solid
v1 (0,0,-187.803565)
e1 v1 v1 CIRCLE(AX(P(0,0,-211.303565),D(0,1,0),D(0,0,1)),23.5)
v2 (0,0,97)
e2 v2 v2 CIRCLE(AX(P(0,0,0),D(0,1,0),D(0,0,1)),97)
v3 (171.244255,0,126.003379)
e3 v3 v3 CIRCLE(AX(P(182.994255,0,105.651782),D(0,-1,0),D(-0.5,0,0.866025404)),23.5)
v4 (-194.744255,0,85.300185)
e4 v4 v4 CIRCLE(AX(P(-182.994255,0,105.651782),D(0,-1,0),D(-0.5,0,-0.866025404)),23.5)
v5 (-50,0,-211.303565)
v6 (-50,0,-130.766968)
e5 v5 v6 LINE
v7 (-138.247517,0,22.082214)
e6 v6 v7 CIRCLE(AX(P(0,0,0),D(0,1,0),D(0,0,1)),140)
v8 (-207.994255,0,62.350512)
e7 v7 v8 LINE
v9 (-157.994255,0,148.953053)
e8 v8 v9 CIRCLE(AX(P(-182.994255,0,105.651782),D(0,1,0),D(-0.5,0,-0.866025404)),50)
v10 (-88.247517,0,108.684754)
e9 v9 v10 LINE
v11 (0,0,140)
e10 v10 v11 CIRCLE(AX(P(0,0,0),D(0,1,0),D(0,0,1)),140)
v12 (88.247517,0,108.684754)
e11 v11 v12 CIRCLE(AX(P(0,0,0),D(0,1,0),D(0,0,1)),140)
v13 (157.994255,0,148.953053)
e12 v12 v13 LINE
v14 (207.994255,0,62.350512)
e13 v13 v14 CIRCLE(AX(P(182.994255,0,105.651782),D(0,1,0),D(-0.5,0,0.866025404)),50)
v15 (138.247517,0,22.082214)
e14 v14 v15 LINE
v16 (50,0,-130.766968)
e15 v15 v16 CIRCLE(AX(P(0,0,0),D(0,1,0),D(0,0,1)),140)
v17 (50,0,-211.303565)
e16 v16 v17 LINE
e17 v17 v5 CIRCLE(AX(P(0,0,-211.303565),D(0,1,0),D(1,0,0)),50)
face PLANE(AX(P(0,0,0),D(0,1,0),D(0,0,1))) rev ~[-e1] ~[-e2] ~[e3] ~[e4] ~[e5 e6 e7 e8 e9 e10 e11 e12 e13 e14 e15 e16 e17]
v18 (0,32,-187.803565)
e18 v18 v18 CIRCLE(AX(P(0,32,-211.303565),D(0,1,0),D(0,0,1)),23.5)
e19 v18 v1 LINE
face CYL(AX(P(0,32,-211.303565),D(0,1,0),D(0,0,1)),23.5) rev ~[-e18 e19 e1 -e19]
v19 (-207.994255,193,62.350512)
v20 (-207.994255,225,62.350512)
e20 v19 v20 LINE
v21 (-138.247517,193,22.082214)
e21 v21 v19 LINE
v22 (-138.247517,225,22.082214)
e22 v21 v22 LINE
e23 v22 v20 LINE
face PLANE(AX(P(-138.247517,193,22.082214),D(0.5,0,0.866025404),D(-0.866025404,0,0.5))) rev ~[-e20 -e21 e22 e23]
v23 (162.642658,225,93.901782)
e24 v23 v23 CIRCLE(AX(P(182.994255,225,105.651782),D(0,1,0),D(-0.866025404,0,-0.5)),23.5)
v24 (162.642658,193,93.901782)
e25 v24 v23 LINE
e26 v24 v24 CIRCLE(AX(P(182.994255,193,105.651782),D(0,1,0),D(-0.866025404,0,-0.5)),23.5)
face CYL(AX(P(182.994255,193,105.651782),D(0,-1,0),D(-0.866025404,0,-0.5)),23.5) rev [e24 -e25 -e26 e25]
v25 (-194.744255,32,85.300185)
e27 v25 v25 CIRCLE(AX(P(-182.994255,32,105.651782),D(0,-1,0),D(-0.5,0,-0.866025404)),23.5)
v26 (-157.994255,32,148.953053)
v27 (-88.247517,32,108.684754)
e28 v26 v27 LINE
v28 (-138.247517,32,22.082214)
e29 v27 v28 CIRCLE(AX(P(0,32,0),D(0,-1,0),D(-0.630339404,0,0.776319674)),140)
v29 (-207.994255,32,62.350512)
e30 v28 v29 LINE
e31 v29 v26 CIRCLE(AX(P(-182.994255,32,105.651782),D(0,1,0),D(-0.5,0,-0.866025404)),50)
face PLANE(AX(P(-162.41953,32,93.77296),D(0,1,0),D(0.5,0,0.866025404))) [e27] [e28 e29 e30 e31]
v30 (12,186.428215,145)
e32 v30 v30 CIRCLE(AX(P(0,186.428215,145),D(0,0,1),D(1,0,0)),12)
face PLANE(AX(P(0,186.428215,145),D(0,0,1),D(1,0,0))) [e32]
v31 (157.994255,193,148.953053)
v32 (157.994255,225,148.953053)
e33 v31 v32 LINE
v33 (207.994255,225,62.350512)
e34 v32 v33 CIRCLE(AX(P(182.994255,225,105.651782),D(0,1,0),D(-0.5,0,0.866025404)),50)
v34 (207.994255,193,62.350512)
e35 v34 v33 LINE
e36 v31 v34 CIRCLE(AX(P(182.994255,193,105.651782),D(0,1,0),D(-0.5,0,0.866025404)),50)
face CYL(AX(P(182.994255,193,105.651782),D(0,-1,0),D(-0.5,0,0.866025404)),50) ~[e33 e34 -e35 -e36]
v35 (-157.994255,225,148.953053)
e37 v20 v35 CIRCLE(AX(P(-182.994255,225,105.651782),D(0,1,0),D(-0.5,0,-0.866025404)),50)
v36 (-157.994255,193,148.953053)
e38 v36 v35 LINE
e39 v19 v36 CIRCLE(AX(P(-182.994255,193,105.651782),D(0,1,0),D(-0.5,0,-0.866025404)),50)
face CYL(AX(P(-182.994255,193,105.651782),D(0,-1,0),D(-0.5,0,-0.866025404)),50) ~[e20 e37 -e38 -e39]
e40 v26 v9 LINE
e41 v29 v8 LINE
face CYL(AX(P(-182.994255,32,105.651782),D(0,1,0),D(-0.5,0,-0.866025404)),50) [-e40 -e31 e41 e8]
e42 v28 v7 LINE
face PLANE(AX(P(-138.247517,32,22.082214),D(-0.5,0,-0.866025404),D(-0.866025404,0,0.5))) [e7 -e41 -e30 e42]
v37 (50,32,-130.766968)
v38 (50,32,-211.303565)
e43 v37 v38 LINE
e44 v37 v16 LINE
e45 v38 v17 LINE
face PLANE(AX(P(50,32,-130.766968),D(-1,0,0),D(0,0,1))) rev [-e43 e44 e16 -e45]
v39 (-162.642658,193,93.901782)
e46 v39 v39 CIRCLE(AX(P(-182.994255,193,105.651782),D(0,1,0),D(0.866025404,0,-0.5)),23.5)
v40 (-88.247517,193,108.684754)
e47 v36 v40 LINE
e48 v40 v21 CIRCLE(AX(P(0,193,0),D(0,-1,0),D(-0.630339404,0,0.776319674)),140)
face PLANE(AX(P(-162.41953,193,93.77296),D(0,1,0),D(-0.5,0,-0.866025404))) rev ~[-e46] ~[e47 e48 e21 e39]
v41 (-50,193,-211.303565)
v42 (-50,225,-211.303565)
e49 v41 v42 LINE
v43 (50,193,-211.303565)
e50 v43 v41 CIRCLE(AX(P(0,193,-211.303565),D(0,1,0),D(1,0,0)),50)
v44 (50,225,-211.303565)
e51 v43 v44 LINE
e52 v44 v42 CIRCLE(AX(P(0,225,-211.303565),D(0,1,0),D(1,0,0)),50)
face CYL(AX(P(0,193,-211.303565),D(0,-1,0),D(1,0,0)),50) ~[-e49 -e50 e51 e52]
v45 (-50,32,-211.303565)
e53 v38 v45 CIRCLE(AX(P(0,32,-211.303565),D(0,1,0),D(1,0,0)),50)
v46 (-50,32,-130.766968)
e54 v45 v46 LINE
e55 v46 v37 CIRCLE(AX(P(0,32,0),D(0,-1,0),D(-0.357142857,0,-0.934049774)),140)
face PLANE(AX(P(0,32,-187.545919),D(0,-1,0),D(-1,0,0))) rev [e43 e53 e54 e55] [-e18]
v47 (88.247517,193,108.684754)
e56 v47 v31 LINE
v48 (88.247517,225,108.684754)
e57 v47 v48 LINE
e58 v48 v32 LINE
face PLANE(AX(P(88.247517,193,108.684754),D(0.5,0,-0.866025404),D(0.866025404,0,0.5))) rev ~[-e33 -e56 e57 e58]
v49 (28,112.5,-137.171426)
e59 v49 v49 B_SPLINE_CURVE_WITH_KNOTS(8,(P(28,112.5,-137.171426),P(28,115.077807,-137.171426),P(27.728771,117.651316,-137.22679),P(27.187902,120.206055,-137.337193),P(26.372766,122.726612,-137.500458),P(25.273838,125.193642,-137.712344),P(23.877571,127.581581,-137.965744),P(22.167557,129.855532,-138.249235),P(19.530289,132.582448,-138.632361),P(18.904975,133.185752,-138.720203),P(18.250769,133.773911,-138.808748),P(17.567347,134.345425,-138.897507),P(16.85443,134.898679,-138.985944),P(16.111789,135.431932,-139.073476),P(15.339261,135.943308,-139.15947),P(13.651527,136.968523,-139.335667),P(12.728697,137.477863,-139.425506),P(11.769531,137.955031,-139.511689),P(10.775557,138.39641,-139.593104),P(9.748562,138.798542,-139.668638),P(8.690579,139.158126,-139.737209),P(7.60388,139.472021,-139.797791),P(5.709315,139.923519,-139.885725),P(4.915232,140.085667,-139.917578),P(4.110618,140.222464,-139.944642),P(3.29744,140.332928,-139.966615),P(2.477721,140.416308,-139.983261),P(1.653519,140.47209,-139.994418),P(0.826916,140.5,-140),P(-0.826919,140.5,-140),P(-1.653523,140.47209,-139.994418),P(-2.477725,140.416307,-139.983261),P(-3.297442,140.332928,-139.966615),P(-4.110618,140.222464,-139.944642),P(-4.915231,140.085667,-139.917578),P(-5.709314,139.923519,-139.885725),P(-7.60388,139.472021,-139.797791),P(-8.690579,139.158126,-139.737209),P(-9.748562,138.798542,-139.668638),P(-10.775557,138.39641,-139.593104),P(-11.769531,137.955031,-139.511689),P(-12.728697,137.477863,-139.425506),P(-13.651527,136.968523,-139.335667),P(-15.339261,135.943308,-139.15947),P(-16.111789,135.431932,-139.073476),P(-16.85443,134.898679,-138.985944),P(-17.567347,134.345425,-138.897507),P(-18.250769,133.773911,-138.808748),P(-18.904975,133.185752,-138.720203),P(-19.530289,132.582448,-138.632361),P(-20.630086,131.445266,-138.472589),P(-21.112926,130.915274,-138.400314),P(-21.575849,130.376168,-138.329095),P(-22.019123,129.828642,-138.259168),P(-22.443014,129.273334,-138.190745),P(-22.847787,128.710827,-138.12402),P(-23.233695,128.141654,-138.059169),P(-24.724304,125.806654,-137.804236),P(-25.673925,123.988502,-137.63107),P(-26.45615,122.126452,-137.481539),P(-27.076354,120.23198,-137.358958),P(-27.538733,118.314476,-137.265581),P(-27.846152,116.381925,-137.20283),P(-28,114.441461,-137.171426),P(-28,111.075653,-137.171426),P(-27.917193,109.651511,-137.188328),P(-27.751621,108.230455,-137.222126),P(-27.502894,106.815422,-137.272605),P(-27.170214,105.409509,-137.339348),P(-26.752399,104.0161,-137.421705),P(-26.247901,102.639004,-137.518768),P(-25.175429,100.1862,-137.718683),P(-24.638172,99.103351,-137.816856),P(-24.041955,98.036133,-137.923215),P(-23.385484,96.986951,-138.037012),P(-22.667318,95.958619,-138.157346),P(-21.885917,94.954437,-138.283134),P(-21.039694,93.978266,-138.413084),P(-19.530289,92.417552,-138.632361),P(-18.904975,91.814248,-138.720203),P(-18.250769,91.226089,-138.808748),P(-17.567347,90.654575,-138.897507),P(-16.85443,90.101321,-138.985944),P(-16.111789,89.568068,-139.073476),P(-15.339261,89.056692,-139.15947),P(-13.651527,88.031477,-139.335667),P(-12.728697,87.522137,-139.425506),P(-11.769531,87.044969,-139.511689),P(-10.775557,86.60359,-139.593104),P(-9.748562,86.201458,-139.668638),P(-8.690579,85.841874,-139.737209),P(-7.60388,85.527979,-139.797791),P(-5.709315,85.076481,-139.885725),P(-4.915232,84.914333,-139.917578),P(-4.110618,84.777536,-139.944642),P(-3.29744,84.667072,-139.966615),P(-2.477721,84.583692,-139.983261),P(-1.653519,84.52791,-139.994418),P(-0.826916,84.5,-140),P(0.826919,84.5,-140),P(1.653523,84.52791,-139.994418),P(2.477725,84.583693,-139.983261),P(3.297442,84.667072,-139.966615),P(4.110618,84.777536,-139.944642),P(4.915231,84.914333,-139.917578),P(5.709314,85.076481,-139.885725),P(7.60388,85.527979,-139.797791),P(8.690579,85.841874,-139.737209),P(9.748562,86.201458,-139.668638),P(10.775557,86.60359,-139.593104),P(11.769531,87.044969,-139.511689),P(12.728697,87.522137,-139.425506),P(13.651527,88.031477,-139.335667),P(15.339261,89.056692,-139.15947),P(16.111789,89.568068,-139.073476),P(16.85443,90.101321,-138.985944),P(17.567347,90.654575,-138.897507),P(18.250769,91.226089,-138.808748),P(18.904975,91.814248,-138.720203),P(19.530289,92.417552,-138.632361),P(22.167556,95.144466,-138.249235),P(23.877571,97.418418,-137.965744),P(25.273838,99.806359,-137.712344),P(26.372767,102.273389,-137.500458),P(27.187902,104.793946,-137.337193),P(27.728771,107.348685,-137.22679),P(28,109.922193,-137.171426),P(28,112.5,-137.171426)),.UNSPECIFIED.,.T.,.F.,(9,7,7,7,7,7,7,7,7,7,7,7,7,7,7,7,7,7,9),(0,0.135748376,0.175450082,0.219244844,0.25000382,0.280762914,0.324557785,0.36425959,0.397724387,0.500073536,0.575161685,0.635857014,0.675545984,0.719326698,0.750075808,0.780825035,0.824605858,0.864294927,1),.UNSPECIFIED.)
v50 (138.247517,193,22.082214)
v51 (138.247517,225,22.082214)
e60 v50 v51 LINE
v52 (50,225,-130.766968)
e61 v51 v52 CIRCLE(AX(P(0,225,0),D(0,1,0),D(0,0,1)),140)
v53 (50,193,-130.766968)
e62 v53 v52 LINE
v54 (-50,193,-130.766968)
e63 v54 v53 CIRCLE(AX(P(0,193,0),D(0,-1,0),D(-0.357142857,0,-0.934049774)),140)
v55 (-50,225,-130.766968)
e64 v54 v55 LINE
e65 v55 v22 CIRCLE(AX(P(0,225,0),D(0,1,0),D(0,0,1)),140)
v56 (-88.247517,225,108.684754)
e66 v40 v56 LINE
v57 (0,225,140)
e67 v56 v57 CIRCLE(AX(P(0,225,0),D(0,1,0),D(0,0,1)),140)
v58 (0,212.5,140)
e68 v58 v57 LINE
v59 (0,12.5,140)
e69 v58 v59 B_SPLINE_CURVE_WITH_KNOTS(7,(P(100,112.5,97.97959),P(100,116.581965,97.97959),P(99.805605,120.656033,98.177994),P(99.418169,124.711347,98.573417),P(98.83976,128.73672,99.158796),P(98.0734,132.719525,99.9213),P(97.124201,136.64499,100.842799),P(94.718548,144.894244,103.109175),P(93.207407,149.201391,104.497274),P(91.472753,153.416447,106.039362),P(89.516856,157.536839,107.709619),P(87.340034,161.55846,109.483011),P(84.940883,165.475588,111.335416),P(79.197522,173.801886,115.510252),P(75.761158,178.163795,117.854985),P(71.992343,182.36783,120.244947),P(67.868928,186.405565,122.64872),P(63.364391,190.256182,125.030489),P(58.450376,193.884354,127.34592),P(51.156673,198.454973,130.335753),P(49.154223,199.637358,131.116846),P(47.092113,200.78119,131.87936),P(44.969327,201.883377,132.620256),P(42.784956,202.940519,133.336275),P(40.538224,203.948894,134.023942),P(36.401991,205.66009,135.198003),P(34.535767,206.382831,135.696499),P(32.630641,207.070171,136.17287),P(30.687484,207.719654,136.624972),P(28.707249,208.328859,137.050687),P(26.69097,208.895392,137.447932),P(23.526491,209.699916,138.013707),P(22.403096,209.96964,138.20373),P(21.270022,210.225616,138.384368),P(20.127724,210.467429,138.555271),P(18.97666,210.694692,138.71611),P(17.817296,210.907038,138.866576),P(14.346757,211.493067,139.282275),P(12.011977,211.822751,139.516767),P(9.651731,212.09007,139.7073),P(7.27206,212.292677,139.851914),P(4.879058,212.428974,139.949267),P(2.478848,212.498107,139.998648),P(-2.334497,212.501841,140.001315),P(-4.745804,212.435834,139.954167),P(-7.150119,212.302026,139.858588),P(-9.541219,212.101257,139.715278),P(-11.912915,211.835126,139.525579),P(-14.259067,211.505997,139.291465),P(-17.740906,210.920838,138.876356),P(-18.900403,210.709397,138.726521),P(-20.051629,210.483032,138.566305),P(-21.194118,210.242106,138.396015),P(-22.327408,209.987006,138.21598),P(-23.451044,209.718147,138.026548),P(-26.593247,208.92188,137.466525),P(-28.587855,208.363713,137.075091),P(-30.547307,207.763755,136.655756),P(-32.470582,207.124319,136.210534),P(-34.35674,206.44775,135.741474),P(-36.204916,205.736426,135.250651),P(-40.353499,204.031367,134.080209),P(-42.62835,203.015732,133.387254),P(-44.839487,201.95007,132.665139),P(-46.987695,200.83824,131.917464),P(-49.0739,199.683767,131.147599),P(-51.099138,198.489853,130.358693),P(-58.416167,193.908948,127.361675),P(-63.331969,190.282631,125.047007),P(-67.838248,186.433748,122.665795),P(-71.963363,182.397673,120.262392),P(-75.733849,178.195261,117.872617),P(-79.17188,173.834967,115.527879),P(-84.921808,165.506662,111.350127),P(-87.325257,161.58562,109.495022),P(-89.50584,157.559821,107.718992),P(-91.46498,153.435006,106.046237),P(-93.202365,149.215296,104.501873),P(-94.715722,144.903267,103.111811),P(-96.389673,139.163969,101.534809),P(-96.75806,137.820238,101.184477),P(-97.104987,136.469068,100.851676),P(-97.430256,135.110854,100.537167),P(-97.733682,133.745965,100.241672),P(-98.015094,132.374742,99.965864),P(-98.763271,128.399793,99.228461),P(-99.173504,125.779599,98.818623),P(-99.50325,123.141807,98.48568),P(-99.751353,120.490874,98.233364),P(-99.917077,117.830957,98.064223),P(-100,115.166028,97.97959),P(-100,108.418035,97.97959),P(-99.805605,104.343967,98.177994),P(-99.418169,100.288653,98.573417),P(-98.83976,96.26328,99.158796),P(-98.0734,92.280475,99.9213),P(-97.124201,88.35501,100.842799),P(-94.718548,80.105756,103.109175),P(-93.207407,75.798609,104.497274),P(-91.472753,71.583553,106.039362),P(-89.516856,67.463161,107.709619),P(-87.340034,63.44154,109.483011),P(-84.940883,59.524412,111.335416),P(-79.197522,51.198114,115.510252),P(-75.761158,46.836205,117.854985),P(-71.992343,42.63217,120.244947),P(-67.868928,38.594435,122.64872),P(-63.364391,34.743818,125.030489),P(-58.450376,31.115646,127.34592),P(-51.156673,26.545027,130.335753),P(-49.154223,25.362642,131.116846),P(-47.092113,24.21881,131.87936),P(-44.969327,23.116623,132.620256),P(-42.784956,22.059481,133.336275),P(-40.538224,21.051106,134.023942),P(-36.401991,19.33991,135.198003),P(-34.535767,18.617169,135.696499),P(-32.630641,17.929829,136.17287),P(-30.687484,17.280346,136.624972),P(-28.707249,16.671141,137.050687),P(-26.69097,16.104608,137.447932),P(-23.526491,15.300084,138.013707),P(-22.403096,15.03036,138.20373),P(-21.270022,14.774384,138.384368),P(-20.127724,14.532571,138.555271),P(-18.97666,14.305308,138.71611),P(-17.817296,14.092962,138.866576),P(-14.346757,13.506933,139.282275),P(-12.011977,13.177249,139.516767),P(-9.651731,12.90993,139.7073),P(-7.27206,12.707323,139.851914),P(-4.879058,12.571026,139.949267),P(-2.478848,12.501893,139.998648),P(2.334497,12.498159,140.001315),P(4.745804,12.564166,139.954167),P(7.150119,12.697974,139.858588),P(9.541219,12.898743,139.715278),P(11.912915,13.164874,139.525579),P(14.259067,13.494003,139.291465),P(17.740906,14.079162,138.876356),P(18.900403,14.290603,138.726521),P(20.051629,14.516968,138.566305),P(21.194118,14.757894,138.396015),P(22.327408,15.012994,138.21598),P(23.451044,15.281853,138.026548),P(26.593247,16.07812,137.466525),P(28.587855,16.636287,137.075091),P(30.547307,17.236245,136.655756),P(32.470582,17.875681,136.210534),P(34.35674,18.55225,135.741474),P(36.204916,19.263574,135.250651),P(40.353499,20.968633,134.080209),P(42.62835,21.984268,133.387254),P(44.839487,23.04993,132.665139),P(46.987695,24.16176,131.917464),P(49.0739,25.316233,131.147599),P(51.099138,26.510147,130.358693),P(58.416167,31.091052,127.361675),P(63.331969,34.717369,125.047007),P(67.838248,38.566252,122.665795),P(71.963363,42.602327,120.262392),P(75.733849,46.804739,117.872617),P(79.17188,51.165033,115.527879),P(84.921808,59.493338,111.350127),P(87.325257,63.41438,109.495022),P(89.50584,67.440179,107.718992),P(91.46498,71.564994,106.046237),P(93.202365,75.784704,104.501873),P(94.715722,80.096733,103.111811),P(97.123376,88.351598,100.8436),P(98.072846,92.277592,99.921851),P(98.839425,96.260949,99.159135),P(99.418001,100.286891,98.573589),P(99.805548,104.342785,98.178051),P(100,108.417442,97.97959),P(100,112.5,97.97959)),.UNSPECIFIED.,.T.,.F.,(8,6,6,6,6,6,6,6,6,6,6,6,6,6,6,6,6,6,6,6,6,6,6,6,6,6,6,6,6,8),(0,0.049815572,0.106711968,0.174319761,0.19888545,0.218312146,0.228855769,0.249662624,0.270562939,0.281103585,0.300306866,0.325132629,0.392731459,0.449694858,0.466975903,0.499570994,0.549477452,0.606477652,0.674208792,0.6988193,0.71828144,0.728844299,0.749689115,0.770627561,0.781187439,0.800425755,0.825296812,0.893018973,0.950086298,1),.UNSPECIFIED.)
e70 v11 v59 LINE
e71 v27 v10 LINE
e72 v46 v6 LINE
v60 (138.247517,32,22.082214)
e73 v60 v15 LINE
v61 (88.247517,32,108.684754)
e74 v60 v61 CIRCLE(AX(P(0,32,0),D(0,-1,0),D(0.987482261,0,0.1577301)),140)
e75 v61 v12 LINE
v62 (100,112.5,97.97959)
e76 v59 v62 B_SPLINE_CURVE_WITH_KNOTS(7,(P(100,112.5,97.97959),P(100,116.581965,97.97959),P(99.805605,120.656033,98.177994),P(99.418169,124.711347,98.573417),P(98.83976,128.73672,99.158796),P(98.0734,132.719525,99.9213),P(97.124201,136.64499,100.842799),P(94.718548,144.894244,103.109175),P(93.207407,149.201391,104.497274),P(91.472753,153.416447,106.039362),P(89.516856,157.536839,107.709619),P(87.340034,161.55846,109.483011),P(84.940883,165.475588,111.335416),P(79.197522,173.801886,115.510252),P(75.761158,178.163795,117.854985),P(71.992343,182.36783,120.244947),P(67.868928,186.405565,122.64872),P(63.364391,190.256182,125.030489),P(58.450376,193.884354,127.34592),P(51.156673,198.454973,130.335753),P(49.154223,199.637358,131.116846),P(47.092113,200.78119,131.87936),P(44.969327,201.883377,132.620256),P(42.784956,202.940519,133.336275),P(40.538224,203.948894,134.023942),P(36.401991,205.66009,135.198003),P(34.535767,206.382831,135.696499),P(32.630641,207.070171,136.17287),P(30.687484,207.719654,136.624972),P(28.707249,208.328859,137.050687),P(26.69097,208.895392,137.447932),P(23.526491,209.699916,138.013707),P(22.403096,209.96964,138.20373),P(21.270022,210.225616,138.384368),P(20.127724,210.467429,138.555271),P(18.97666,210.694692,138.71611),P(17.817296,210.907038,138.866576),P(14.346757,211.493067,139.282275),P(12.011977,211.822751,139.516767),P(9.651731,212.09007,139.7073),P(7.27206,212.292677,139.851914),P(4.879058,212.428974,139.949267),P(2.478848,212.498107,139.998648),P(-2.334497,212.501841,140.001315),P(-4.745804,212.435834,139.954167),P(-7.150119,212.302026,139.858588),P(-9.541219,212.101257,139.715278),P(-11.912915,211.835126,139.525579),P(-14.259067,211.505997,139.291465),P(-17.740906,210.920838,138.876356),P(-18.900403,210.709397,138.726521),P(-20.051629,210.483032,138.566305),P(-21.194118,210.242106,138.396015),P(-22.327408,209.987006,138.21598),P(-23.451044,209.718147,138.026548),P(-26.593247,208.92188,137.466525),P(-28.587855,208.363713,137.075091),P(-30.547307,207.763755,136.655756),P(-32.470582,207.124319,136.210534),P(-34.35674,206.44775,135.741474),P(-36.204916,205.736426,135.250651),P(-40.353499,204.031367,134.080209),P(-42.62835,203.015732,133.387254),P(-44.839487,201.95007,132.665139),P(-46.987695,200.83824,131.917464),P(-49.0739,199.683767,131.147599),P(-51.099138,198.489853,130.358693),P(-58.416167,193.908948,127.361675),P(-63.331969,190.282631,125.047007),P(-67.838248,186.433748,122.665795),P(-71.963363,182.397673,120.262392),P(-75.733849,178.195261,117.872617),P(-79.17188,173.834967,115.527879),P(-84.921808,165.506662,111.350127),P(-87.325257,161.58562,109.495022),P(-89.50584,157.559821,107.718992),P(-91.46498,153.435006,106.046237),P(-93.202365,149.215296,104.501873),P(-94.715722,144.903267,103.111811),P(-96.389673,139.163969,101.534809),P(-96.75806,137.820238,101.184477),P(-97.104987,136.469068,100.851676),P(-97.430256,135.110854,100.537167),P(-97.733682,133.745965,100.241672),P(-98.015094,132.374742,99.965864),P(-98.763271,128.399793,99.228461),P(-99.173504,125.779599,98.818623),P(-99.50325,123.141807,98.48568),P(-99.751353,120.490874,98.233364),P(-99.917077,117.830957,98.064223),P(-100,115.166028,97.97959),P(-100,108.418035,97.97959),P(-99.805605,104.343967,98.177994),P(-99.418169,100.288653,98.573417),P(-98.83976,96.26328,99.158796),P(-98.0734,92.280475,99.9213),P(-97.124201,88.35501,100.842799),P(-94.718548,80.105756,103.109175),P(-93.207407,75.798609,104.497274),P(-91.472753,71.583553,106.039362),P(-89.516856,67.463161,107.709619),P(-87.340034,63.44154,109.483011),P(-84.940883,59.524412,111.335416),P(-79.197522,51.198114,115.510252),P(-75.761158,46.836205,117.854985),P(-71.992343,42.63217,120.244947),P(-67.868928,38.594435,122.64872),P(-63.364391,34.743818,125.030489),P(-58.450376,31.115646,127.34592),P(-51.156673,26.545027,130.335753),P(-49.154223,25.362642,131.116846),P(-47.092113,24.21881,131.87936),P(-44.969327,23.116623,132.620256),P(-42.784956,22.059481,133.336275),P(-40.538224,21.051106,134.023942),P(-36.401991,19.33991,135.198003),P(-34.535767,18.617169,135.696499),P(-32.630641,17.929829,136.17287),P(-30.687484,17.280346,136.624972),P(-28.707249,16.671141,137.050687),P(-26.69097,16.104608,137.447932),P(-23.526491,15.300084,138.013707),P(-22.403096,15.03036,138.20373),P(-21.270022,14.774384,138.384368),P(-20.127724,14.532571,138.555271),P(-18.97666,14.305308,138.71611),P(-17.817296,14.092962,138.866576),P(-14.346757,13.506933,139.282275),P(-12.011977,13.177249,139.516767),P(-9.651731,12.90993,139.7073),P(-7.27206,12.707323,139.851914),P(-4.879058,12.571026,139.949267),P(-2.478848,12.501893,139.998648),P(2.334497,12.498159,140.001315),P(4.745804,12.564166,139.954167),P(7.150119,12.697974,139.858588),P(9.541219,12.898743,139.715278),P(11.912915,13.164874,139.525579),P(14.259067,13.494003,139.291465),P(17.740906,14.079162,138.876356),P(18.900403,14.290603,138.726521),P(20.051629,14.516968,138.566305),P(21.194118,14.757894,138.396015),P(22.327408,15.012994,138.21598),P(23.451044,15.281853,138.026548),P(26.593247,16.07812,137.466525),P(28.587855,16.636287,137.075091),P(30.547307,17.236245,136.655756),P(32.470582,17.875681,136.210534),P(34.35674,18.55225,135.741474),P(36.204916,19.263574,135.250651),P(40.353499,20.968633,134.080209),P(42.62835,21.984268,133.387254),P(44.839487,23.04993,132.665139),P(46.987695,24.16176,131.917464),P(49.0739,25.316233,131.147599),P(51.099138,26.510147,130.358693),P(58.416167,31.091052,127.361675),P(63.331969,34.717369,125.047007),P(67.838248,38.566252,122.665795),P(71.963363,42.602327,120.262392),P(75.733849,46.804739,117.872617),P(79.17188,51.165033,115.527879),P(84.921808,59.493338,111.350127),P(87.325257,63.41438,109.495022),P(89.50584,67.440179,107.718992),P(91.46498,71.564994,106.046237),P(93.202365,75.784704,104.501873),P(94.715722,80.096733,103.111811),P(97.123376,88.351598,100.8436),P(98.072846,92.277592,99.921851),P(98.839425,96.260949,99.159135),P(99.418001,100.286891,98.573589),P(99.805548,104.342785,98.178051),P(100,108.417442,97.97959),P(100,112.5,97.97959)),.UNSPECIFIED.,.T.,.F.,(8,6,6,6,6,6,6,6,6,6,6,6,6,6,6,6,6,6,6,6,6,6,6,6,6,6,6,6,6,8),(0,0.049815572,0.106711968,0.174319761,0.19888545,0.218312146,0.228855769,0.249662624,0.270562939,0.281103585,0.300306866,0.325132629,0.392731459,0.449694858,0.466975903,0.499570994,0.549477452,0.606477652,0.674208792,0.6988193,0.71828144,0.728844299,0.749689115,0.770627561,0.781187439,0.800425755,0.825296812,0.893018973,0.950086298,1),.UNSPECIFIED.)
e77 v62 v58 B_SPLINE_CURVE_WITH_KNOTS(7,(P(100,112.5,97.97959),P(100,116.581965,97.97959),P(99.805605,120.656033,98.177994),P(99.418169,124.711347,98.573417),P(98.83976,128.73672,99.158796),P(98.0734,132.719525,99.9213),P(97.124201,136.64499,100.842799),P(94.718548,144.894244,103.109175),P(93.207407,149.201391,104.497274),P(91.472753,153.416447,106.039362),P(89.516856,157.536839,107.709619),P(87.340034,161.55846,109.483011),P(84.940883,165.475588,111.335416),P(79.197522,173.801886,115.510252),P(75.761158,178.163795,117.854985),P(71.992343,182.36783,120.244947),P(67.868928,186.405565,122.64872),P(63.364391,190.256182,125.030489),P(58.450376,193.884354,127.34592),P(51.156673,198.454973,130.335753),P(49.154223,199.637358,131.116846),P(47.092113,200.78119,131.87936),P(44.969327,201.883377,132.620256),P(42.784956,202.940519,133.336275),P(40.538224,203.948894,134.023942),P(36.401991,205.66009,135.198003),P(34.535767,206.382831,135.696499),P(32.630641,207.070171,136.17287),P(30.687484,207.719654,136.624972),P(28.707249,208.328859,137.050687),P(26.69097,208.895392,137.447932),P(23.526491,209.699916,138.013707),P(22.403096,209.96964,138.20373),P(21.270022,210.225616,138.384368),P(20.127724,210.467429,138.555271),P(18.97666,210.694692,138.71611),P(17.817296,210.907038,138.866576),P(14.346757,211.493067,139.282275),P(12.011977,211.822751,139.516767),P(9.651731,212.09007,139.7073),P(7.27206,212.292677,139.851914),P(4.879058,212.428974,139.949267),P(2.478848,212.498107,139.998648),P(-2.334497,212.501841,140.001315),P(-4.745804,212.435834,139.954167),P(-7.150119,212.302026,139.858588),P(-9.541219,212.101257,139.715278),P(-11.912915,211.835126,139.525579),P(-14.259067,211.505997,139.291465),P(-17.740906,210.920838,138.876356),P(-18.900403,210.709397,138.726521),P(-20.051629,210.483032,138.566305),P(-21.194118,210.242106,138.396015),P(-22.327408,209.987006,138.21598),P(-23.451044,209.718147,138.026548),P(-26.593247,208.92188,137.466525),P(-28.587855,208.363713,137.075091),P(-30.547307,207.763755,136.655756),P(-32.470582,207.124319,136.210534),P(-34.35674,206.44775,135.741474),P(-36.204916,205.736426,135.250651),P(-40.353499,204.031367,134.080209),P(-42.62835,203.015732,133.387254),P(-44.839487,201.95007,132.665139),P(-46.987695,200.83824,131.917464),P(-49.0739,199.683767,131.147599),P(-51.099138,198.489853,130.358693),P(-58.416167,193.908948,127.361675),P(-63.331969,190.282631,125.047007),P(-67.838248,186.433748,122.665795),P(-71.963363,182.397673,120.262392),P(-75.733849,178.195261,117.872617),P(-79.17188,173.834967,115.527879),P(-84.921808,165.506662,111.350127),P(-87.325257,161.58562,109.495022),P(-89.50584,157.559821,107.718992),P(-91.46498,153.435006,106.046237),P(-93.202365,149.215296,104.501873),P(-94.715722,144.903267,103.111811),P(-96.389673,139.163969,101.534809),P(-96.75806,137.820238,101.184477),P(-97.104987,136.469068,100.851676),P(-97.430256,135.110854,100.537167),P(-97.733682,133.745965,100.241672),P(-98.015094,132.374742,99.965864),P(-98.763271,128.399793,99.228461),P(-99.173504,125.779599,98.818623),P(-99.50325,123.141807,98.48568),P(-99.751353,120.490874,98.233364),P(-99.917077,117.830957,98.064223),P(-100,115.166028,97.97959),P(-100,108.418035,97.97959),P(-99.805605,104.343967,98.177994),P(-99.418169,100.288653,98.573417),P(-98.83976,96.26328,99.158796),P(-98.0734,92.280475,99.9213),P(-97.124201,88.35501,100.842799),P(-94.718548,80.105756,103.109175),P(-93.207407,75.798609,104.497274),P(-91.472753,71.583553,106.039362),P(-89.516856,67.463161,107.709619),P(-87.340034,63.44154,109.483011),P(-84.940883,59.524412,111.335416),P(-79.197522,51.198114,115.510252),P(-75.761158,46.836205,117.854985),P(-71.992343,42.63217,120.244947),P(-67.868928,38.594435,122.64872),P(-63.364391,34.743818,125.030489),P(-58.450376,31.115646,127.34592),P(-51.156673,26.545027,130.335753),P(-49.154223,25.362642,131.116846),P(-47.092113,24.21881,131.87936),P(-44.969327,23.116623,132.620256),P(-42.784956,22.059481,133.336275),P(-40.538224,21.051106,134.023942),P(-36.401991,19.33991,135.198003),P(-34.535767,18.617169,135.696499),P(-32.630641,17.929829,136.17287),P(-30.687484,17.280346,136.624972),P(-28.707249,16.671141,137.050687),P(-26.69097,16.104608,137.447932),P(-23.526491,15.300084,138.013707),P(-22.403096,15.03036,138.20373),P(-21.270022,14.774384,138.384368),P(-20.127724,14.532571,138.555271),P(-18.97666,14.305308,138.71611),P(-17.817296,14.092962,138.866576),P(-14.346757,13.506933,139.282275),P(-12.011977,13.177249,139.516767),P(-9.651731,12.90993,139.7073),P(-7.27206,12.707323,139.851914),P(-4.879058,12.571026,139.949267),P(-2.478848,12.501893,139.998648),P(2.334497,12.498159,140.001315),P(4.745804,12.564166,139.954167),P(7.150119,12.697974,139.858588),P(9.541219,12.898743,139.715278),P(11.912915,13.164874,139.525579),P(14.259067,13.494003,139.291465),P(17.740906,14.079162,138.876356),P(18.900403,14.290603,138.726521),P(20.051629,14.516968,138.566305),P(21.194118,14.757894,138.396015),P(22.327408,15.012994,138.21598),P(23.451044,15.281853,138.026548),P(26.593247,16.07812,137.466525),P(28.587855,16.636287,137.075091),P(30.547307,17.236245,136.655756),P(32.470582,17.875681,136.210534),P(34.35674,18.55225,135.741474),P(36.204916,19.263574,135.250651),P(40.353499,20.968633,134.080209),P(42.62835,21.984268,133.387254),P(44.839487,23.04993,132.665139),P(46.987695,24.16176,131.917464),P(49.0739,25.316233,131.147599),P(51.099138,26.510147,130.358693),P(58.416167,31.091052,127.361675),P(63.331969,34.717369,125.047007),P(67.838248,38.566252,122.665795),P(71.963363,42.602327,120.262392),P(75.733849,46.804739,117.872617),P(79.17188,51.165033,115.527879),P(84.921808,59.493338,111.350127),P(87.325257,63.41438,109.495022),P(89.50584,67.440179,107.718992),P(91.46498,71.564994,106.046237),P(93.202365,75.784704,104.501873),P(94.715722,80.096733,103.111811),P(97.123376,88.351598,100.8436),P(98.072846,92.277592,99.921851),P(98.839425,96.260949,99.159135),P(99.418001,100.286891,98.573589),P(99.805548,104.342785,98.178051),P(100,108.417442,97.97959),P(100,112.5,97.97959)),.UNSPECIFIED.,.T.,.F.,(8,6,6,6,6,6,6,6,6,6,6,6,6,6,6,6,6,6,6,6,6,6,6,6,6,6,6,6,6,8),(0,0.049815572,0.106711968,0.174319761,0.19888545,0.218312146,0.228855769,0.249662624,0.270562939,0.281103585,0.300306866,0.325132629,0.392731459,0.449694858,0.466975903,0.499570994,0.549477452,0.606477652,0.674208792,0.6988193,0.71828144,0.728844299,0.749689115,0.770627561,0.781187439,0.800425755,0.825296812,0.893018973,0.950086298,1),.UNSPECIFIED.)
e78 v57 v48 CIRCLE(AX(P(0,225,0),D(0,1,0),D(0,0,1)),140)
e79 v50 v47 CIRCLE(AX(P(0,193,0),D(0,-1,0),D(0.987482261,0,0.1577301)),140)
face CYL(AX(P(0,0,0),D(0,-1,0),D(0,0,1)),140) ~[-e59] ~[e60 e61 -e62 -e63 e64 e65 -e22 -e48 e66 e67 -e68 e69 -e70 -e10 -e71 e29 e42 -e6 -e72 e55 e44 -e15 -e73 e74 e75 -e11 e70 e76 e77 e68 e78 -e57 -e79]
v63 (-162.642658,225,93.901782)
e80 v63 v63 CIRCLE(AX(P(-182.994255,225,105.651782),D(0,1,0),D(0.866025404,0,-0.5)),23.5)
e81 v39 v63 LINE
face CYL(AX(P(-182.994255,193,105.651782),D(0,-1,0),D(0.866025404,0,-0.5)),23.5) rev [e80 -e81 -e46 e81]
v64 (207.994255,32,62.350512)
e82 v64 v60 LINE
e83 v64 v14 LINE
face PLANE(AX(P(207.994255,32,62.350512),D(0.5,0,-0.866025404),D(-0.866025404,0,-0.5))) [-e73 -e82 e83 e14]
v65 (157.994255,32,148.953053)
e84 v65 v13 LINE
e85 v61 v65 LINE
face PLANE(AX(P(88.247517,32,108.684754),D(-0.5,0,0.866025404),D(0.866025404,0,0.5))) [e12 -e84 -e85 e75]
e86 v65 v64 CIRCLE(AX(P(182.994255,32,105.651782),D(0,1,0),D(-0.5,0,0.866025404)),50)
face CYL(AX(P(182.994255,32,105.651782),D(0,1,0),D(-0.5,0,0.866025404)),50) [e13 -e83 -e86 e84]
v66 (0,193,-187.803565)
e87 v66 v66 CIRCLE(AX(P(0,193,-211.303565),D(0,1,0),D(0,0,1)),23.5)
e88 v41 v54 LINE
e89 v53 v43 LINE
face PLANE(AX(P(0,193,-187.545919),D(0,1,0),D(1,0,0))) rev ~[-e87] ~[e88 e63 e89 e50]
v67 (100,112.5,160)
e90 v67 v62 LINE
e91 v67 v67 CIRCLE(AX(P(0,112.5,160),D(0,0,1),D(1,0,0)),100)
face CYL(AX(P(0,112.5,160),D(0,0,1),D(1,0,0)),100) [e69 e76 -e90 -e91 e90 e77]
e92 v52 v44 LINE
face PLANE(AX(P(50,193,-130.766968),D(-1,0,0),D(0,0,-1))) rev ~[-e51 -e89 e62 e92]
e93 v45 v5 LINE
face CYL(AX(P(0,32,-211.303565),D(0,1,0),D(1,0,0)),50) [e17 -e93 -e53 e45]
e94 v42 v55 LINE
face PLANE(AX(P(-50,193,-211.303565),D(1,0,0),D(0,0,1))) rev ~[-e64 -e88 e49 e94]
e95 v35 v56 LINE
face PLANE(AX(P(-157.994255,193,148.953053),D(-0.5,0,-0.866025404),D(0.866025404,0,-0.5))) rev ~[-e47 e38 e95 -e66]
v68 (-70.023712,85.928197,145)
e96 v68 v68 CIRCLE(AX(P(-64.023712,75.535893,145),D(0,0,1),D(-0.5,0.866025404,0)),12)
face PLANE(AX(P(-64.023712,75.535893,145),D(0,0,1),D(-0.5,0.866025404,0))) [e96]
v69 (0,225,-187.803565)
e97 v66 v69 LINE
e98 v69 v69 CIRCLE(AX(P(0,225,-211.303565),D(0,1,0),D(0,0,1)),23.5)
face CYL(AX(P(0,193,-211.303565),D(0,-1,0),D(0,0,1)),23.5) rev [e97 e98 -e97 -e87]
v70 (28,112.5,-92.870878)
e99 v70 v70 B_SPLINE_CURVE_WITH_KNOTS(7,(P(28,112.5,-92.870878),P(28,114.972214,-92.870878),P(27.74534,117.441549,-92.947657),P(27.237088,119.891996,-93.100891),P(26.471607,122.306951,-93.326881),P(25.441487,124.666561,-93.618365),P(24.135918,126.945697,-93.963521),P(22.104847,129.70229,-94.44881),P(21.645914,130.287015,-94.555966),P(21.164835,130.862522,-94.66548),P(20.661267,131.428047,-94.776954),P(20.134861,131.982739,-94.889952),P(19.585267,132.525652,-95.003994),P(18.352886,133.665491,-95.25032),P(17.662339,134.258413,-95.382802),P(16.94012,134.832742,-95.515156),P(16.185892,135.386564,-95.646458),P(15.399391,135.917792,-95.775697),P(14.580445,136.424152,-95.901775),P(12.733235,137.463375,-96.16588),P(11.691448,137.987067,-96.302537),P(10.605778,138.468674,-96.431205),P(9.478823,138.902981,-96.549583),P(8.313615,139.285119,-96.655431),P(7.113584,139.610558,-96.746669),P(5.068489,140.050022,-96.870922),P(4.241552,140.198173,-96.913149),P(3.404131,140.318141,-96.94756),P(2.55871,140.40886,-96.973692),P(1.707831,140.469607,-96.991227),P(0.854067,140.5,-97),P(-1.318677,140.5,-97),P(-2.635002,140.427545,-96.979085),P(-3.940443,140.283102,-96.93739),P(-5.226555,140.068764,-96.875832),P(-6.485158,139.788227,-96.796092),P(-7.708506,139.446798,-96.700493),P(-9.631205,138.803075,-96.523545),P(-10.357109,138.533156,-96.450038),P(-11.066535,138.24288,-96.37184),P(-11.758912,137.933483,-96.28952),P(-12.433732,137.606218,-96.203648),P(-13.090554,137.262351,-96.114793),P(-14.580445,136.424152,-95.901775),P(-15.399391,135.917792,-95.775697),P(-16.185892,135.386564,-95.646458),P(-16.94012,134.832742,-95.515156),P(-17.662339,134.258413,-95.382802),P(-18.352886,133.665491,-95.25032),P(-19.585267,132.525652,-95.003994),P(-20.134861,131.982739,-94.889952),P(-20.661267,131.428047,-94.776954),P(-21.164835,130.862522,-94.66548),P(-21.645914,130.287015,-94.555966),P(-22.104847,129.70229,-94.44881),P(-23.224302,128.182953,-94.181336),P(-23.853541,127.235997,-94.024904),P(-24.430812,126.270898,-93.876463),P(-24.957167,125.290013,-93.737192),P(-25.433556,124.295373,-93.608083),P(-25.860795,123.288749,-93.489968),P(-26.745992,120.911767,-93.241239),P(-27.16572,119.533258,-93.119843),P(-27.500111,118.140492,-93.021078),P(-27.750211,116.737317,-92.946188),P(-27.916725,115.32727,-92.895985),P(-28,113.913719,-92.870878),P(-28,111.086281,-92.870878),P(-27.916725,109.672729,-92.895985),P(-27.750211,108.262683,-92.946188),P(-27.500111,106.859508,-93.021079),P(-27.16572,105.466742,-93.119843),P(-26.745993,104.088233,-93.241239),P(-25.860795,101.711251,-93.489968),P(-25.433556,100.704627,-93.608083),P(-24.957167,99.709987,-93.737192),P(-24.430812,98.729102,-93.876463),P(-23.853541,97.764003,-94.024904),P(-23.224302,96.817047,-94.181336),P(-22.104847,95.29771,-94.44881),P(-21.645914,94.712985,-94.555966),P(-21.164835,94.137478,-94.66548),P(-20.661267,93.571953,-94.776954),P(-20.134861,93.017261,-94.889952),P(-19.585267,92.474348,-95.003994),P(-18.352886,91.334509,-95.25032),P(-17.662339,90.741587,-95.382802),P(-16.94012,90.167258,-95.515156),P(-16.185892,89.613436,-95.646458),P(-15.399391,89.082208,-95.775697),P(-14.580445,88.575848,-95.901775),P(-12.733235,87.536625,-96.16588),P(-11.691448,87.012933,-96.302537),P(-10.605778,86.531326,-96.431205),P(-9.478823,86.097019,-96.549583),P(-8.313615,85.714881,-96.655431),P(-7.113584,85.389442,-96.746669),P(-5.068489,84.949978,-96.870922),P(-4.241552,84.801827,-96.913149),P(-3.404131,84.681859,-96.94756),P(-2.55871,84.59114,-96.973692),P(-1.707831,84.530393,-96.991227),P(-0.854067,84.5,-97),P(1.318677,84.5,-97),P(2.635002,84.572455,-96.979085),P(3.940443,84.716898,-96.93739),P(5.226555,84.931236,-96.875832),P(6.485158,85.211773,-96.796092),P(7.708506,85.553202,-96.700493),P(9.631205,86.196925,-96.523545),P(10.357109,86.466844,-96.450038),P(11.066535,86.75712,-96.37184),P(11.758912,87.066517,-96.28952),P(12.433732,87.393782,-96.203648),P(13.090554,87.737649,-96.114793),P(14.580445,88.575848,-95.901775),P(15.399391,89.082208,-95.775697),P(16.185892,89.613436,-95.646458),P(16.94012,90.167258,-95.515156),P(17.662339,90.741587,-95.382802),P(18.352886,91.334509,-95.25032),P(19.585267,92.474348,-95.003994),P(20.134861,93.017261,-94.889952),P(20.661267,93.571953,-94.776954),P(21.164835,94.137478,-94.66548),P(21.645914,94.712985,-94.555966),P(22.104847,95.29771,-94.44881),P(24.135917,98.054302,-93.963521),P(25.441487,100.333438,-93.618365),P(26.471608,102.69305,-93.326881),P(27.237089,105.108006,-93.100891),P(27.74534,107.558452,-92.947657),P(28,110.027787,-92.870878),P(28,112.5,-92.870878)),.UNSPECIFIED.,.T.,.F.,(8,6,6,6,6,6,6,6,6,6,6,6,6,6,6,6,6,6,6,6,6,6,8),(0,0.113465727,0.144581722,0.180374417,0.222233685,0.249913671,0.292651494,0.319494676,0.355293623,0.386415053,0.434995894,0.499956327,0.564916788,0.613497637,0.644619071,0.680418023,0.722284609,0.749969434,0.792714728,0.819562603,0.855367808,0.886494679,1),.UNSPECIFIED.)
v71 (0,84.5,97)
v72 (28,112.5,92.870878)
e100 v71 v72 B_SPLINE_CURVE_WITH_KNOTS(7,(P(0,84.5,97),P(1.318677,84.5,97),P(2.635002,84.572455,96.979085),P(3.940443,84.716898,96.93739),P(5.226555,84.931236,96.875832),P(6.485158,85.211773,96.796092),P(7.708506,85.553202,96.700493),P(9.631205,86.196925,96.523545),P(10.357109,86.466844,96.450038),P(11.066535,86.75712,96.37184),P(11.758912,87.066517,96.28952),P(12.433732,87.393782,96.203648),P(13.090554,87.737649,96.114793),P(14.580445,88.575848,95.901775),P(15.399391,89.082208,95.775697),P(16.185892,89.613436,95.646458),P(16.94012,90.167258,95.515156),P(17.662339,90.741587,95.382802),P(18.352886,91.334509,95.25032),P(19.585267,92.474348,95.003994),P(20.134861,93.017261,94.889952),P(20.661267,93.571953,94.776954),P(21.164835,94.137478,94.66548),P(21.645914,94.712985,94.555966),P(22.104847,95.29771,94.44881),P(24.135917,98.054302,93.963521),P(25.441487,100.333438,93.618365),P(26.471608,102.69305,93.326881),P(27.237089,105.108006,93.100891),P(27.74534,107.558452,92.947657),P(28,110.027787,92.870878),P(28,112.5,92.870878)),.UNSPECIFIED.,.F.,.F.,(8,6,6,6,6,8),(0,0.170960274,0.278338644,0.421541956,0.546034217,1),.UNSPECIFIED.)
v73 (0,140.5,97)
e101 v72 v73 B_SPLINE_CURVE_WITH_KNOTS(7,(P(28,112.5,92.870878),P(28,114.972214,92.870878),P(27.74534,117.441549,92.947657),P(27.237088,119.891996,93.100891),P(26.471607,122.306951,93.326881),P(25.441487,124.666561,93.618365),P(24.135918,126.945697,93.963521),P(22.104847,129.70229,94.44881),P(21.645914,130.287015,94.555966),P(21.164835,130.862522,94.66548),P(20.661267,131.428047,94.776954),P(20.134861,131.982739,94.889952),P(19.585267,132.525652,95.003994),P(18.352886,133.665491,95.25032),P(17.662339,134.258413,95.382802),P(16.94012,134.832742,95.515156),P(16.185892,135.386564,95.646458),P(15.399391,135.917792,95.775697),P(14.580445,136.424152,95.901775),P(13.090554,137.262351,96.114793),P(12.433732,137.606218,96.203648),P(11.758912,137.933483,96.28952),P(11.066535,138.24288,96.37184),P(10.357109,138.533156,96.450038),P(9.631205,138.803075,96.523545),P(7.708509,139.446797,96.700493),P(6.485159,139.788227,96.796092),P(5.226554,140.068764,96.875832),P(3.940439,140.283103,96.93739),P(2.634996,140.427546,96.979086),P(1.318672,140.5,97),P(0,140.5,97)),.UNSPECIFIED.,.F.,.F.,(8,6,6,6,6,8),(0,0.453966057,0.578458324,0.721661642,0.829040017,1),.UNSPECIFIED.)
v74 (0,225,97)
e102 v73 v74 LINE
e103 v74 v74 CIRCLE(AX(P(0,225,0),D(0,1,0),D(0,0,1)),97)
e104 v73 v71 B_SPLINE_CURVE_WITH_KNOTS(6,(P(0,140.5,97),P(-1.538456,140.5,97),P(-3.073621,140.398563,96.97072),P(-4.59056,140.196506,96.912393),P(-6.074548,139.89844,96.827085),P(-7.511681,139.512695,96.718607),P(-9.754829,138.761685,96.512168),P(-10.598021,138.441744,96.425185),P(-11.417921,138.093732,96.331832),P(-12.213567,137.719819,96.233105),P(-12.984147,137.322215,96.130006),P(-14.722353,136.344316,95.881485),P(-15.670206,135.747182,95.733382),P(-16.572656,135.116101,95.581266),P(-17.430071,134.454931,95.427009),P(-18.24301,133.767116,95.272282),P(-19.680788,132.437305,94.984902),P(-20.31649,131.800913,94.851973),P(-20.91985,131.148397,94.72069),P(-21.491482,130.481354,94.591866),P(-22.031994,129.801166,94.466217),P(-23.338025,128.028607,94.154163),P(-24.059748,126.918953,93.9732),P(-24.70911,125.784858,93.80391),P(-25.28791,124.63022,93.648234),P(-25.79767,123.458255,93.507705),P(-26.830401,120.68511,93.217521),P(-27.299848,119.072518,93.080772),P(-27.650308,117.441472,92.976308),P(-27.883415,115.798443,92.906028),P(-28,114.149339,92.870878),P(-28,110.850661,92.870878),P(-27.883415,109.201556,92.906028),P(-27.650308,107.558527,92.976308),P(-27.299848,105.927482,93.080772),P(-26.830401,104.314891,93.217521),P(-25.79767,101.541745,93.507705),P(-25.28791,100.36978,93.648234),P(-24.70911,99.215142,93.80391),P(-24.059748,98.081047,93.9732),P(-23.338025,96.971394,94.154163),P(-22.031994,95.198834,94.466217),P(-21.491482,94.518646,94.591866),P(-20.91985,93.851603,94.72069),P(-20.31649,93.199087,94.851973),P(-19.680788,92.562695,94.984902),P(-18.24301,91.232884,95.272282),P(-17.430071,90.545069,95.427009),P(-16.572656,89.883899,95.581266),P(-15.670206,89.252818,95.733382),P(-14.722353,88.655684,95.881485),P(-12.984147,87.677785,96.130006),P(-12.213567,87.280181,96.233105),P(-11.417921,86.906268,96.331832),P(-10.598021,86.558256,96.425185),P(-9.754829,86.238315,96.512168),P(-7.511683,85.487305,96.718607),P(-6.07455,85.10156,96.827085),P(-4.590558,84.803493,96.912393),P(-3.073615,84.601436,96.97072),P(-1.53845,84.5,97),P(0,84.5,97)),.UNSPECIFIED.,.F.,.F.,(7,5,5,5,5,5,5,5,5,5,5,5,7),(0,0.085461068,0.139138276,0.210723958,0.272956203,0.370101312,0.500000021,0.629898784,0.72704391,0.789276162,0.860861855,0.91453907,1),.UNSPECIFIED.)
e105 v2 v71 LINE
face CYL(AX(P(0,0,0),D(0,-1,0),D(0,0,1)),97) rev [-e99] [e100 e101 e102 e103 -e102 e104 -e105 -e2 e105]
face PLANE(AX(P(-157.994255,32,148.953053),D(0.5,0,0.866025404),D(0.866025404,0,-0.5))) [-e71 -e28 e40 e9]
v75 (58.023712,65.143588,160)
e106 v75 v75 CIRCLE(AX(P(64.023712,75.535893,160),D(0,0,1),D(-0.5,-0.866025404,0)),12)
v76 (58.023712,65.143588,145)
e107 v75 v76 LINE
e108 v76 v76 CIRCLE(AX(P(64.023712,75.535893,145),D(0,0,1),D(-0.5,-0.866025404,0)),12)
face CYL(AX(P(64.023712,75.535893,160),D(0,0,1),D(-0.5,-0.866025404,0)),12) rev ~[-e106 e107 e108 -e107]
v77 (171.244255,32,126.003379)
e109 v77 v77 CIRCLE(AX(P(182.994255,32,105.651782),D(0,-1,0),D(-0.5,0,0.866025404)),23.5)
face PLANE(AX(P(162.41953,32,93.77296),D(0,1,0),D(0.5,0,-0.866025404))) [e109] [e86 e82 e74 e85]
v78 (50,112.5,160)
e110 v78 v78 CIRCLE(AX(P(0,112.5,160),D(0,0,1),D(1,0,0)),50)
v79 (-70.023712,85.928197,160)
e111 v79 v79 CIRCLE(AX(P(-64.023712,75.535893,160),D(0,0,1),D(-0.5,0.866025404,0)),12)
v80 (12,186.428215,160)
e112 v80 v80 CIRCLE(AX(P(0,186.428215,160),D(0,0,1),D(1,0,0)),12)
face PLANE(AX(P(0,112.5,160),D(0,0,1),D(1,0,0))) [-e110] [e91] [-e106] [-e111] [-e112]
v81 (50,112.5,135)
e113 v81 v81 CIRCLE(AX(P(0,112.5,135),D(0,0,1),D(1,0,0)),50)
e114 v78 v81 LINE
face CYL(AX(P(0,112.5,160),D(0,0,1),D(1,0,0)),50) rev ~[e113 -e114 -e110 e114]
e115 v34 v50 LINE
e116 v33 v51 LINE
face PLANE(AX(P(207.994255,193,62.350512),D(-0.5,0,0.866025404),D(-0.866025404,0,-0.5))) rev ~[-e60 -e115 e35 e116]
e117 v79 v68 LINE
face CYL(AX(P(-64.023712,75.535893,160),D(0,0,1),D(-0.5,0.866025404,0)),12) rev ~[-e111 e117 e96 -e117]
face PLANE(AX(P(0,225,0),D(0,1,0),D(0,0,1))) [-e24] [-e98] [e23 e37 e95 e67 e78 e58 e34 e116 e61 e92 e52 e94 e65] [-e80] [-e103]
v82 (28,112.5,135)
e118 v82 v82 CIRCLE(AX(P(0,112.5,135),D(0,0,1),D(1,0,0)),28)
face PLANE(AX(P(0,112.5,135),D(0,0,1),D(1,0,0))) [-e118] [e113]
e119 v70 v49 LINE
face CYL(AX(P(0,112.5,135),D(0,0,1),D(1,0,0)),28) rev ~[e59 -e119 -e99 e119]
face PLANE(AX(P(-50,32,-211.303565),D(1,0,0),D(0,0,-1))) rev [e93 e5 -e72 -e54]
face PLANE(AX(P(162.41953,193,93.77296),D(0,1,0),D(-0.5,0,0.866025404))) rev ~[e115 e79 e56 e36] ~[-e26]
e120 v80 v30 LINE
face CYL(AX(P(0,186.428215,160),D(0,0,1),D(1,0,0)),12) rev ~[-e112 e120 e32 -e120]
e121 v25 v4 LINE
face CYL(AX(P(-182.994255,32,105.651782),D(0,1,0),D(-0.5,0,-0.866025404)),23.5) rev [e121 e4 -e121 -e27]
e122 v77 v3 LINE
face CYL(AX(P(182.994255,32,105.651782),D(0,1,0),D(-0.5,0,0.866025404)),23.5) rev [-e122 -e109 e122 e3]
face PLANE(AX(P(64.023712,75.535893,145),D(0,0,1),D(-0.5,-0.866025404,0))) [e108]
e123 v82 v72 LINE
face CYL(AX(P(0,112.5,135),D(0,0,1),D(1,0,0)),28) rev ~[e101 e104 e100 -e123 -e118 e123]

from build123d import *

# Parameters (mm, degrees)
SKETCH1_R                = 140
SKETCH1_R_2              = 97
BOSS_EXTRUDE3_DEPTH      = 225
BOSS_EXTRUDE4_START      = -32
SKETCH4_R                = 23.5
BOSS_EXTRUDE4_DEPTH      = 32
CIRPATTERN2_COUNT        = 3
MIRROR1_START            = -32
MIRROR1_COPY_1_SKETCH_R  = 23.5
MIRROR1_COPY_1_DEPTH     = 32
MIRROR1_COPY_2_SKETCH_R  = 23.5
MIRROR1_COPY_2_DEPTH     = 32
BOSS_EXTRUDE5_REACH      = 533.421
BOSS_EXTRUDE5_END_RADIUS = 140
SKETCH6_R                = 100
SKETCH7_R                = 50
CUT_EXTRUDE1_DEPTH       = 25
SKETCH8_R                = 28
CUT_EXTRUDE2_DEPTH       = 512.827938218
SKETCH9_R                = 12
CUT_EXTRUDE3_DEPTH       = 15
CIRPATTERN3_COUNT        = 3


with BuildPart() as part:
    # Sketch1 → Boss-Extrude3 (new body)
    with BuildSketch(Plane(origin=(0, 0, 0), x_dir=(1, 0, 0), z_dir=(0, 1, 0))):
        with Locations(Location((0, 0, 0), (0, 0, 270))):
            Circle(SKETCH1_R)
        with Locations(Location((0, 0, 0), (0, 0, 270))):
            Circle(SKETCH1_R_2, mode=Mode.SUBTRACT)
    extrude(amount=BOSS_EXTRUDE3_DEPTH)

    # Sketch4 → Boss-Extrude4 (add)
    with BuildSketch(Plane(origin=(0, 225, 0), x_dir=(1, 0, 0), z_dir=(0, 1, 0)).offset(BOSS_EXTRUDE4_START)):
        with BuildLine():
            ThreePointArc((50, 211.303564756), (0, 261.303564756), (-50, 211.303564756))
            Line((-50, 211.303564756), (-50, 130.766968306))
            ThreePointArc((-50, 130.766968306), (0, 140), (50, 130.766968306))
            Line((50, 130.766968306), (50, 211.303564756))
        make_face()
        with Locations(Location((0, 211.303564756, 0), (0, 0, 270))):
            Circle(SKETCH4_R, mode=Mode.SUBTRACT)
    boss_extrude4 = extrude(amount=BOSS_EXTRUDE4_DEPTH)

    # CirPattern2: Boss-Extrude4 ×3 about axis
    cirpattern2_axis = Axis((0, 0, 0), (0, 1, 0))
    for i in range(1, CIRPATTERN2_COUNT):
        add(boss_extrude4.rotate(cirpattern2_axis, i * 360 / CIRPATTERN2_COUNT))

    # Mirror1: Boss-Extrude4 across plane
    add(boss_extrude4.mirror(Plane.ZX.offset(112.5)))

    # Mirror1 copy 1 sketch → Mirror1 copy 1 (add)
    with BuildSketch(Plane(origin=(0, 0, 0), x_dir=(-0.4999999999999998, 0, -0.8660254037844387), z_dir=(0, -1, 0)).offset(MIRROR1_START)):
        with BuildLine():
            ThreePointArc((50, -211.303564756), (0, -261.303564756), (-50, -211.303564756))
            Line((-50, -211.303564756), (-50, -130.766968306))
            ThreePointArc((-50, -130.766968306), (0, -140), (50, -130.766968306))
            Line((50, -130.766968306), (50, -211.303564756))
        make_face()
        with Locations((0, -211.303564756)):
            Circle(MIRROR1_COPY_1_SKETCH_R, mode=Mode.SUBTRACT)
    extrude(amount=MIRROR1_COPY_1_DEPTH)

    # Mirror1 copy 2 sketch → Mirror1 copy 2 (add)
    with BuildSketch(Plane(origin=(0, 0, 0), x_dir=(-0.5000000000000004, 0, 0.8660254037844384), z_dir=(0, -1, 0)).offset(MIRROR1_START)):
        with BuildLine():
            ThreePointArc((50, -211.303564756), (0, -261.303564756), (-50, -211.303564756))
            Line((-50, -211.303564756), (-50, -130.766968306))
            ThreePointArc((-50, -130.766968306), (0, -140), (50, -130.766968306))
            Line((50, -130.766968306), (50, -211.303564756))
        make_face()
        with Locations((0, -211.303564756)):
            Circle(MIRROR1_COPY_2_SKETCH_R, mode=Mode.SUBTRACT)
    extrude(amount=MIRROR1_COPY_2_DEPTH)

    # Boss-Extrude5: up to this cylinder (the profile starts outside it)
    boss_extrude5_end = Plane(origin=(0, 112.5, 0), z_dir=(0, -1, 0)) * Cylinder(BOSS_EXTRUDE5_END_RADIUS, 1347.842, mode=Mode.PRIVATE)
    # Sketch6 → Boss-Extrude5 (add, up to the surface)
    with BuildSketch(Plane.XY.offset(160), mode=Mode.PRIVATE) as boss_extrude5_sk1:
        with Locations((0, 112.5)):
            Circle(SKETCH6_R)
    boss_extrude5_tool1 = extrude(boss_extrude5_sk1.sketch, amount=-BOSS_EXTRUDE5_REACH, mode=Mode.PRIVATE) - boss_extrude5_end
    add(boss_extrude5_tool1.solids().sort_by_distance((0, 112.5, 160))[0])

    # Sketch7 → Cut-Extrude1 (cut)
    with BuildSketch(Plane.XY.offset(160)):
        with Locations((0, 112.5)):
            Circle(SKETCH7_R)
    extrude(amount=-CUT_EXTRUDE1_DEPTH, mode=Mode.SUBTRACT)

    # Sketch8 → Cut-Extrude2 (cut, through all)
    with BuildSketch(Plane.XY.offset(135)):
        with Locations((0, 112.5)):
            Circle(SKETCH8_R)
    extrude(amount=-CUT_EXTRUDE2_DEPTH, mode=Mode.SUBTRACT)

    # Sketch9 → Cut-Extrude3 (cut)
    with BuildSketch(Plane.XY.offset(160)):
        with Locations((0, 186.428214738)):
            Circle(SKETCH9_R)
    cut_extrude3 = extrude(amount=-CUT_EXTRUDE3_DEPTH, mode=Mode.SUBTRACT)

    # CirPattern3: Cut-Extrude3 ×3 about axis
    cirpattern3_axis = Axis((0, 112.5, 0), (0, 0, 1))
    for i in range(1, CIRPATTERN3_COUNT):
        add(cut_extrude3.rotate(cirpattern3_axis, i * 360 / CIRPATTERN3_COUNT), mode=Mode.SUBTRACT)


solid = part.part
